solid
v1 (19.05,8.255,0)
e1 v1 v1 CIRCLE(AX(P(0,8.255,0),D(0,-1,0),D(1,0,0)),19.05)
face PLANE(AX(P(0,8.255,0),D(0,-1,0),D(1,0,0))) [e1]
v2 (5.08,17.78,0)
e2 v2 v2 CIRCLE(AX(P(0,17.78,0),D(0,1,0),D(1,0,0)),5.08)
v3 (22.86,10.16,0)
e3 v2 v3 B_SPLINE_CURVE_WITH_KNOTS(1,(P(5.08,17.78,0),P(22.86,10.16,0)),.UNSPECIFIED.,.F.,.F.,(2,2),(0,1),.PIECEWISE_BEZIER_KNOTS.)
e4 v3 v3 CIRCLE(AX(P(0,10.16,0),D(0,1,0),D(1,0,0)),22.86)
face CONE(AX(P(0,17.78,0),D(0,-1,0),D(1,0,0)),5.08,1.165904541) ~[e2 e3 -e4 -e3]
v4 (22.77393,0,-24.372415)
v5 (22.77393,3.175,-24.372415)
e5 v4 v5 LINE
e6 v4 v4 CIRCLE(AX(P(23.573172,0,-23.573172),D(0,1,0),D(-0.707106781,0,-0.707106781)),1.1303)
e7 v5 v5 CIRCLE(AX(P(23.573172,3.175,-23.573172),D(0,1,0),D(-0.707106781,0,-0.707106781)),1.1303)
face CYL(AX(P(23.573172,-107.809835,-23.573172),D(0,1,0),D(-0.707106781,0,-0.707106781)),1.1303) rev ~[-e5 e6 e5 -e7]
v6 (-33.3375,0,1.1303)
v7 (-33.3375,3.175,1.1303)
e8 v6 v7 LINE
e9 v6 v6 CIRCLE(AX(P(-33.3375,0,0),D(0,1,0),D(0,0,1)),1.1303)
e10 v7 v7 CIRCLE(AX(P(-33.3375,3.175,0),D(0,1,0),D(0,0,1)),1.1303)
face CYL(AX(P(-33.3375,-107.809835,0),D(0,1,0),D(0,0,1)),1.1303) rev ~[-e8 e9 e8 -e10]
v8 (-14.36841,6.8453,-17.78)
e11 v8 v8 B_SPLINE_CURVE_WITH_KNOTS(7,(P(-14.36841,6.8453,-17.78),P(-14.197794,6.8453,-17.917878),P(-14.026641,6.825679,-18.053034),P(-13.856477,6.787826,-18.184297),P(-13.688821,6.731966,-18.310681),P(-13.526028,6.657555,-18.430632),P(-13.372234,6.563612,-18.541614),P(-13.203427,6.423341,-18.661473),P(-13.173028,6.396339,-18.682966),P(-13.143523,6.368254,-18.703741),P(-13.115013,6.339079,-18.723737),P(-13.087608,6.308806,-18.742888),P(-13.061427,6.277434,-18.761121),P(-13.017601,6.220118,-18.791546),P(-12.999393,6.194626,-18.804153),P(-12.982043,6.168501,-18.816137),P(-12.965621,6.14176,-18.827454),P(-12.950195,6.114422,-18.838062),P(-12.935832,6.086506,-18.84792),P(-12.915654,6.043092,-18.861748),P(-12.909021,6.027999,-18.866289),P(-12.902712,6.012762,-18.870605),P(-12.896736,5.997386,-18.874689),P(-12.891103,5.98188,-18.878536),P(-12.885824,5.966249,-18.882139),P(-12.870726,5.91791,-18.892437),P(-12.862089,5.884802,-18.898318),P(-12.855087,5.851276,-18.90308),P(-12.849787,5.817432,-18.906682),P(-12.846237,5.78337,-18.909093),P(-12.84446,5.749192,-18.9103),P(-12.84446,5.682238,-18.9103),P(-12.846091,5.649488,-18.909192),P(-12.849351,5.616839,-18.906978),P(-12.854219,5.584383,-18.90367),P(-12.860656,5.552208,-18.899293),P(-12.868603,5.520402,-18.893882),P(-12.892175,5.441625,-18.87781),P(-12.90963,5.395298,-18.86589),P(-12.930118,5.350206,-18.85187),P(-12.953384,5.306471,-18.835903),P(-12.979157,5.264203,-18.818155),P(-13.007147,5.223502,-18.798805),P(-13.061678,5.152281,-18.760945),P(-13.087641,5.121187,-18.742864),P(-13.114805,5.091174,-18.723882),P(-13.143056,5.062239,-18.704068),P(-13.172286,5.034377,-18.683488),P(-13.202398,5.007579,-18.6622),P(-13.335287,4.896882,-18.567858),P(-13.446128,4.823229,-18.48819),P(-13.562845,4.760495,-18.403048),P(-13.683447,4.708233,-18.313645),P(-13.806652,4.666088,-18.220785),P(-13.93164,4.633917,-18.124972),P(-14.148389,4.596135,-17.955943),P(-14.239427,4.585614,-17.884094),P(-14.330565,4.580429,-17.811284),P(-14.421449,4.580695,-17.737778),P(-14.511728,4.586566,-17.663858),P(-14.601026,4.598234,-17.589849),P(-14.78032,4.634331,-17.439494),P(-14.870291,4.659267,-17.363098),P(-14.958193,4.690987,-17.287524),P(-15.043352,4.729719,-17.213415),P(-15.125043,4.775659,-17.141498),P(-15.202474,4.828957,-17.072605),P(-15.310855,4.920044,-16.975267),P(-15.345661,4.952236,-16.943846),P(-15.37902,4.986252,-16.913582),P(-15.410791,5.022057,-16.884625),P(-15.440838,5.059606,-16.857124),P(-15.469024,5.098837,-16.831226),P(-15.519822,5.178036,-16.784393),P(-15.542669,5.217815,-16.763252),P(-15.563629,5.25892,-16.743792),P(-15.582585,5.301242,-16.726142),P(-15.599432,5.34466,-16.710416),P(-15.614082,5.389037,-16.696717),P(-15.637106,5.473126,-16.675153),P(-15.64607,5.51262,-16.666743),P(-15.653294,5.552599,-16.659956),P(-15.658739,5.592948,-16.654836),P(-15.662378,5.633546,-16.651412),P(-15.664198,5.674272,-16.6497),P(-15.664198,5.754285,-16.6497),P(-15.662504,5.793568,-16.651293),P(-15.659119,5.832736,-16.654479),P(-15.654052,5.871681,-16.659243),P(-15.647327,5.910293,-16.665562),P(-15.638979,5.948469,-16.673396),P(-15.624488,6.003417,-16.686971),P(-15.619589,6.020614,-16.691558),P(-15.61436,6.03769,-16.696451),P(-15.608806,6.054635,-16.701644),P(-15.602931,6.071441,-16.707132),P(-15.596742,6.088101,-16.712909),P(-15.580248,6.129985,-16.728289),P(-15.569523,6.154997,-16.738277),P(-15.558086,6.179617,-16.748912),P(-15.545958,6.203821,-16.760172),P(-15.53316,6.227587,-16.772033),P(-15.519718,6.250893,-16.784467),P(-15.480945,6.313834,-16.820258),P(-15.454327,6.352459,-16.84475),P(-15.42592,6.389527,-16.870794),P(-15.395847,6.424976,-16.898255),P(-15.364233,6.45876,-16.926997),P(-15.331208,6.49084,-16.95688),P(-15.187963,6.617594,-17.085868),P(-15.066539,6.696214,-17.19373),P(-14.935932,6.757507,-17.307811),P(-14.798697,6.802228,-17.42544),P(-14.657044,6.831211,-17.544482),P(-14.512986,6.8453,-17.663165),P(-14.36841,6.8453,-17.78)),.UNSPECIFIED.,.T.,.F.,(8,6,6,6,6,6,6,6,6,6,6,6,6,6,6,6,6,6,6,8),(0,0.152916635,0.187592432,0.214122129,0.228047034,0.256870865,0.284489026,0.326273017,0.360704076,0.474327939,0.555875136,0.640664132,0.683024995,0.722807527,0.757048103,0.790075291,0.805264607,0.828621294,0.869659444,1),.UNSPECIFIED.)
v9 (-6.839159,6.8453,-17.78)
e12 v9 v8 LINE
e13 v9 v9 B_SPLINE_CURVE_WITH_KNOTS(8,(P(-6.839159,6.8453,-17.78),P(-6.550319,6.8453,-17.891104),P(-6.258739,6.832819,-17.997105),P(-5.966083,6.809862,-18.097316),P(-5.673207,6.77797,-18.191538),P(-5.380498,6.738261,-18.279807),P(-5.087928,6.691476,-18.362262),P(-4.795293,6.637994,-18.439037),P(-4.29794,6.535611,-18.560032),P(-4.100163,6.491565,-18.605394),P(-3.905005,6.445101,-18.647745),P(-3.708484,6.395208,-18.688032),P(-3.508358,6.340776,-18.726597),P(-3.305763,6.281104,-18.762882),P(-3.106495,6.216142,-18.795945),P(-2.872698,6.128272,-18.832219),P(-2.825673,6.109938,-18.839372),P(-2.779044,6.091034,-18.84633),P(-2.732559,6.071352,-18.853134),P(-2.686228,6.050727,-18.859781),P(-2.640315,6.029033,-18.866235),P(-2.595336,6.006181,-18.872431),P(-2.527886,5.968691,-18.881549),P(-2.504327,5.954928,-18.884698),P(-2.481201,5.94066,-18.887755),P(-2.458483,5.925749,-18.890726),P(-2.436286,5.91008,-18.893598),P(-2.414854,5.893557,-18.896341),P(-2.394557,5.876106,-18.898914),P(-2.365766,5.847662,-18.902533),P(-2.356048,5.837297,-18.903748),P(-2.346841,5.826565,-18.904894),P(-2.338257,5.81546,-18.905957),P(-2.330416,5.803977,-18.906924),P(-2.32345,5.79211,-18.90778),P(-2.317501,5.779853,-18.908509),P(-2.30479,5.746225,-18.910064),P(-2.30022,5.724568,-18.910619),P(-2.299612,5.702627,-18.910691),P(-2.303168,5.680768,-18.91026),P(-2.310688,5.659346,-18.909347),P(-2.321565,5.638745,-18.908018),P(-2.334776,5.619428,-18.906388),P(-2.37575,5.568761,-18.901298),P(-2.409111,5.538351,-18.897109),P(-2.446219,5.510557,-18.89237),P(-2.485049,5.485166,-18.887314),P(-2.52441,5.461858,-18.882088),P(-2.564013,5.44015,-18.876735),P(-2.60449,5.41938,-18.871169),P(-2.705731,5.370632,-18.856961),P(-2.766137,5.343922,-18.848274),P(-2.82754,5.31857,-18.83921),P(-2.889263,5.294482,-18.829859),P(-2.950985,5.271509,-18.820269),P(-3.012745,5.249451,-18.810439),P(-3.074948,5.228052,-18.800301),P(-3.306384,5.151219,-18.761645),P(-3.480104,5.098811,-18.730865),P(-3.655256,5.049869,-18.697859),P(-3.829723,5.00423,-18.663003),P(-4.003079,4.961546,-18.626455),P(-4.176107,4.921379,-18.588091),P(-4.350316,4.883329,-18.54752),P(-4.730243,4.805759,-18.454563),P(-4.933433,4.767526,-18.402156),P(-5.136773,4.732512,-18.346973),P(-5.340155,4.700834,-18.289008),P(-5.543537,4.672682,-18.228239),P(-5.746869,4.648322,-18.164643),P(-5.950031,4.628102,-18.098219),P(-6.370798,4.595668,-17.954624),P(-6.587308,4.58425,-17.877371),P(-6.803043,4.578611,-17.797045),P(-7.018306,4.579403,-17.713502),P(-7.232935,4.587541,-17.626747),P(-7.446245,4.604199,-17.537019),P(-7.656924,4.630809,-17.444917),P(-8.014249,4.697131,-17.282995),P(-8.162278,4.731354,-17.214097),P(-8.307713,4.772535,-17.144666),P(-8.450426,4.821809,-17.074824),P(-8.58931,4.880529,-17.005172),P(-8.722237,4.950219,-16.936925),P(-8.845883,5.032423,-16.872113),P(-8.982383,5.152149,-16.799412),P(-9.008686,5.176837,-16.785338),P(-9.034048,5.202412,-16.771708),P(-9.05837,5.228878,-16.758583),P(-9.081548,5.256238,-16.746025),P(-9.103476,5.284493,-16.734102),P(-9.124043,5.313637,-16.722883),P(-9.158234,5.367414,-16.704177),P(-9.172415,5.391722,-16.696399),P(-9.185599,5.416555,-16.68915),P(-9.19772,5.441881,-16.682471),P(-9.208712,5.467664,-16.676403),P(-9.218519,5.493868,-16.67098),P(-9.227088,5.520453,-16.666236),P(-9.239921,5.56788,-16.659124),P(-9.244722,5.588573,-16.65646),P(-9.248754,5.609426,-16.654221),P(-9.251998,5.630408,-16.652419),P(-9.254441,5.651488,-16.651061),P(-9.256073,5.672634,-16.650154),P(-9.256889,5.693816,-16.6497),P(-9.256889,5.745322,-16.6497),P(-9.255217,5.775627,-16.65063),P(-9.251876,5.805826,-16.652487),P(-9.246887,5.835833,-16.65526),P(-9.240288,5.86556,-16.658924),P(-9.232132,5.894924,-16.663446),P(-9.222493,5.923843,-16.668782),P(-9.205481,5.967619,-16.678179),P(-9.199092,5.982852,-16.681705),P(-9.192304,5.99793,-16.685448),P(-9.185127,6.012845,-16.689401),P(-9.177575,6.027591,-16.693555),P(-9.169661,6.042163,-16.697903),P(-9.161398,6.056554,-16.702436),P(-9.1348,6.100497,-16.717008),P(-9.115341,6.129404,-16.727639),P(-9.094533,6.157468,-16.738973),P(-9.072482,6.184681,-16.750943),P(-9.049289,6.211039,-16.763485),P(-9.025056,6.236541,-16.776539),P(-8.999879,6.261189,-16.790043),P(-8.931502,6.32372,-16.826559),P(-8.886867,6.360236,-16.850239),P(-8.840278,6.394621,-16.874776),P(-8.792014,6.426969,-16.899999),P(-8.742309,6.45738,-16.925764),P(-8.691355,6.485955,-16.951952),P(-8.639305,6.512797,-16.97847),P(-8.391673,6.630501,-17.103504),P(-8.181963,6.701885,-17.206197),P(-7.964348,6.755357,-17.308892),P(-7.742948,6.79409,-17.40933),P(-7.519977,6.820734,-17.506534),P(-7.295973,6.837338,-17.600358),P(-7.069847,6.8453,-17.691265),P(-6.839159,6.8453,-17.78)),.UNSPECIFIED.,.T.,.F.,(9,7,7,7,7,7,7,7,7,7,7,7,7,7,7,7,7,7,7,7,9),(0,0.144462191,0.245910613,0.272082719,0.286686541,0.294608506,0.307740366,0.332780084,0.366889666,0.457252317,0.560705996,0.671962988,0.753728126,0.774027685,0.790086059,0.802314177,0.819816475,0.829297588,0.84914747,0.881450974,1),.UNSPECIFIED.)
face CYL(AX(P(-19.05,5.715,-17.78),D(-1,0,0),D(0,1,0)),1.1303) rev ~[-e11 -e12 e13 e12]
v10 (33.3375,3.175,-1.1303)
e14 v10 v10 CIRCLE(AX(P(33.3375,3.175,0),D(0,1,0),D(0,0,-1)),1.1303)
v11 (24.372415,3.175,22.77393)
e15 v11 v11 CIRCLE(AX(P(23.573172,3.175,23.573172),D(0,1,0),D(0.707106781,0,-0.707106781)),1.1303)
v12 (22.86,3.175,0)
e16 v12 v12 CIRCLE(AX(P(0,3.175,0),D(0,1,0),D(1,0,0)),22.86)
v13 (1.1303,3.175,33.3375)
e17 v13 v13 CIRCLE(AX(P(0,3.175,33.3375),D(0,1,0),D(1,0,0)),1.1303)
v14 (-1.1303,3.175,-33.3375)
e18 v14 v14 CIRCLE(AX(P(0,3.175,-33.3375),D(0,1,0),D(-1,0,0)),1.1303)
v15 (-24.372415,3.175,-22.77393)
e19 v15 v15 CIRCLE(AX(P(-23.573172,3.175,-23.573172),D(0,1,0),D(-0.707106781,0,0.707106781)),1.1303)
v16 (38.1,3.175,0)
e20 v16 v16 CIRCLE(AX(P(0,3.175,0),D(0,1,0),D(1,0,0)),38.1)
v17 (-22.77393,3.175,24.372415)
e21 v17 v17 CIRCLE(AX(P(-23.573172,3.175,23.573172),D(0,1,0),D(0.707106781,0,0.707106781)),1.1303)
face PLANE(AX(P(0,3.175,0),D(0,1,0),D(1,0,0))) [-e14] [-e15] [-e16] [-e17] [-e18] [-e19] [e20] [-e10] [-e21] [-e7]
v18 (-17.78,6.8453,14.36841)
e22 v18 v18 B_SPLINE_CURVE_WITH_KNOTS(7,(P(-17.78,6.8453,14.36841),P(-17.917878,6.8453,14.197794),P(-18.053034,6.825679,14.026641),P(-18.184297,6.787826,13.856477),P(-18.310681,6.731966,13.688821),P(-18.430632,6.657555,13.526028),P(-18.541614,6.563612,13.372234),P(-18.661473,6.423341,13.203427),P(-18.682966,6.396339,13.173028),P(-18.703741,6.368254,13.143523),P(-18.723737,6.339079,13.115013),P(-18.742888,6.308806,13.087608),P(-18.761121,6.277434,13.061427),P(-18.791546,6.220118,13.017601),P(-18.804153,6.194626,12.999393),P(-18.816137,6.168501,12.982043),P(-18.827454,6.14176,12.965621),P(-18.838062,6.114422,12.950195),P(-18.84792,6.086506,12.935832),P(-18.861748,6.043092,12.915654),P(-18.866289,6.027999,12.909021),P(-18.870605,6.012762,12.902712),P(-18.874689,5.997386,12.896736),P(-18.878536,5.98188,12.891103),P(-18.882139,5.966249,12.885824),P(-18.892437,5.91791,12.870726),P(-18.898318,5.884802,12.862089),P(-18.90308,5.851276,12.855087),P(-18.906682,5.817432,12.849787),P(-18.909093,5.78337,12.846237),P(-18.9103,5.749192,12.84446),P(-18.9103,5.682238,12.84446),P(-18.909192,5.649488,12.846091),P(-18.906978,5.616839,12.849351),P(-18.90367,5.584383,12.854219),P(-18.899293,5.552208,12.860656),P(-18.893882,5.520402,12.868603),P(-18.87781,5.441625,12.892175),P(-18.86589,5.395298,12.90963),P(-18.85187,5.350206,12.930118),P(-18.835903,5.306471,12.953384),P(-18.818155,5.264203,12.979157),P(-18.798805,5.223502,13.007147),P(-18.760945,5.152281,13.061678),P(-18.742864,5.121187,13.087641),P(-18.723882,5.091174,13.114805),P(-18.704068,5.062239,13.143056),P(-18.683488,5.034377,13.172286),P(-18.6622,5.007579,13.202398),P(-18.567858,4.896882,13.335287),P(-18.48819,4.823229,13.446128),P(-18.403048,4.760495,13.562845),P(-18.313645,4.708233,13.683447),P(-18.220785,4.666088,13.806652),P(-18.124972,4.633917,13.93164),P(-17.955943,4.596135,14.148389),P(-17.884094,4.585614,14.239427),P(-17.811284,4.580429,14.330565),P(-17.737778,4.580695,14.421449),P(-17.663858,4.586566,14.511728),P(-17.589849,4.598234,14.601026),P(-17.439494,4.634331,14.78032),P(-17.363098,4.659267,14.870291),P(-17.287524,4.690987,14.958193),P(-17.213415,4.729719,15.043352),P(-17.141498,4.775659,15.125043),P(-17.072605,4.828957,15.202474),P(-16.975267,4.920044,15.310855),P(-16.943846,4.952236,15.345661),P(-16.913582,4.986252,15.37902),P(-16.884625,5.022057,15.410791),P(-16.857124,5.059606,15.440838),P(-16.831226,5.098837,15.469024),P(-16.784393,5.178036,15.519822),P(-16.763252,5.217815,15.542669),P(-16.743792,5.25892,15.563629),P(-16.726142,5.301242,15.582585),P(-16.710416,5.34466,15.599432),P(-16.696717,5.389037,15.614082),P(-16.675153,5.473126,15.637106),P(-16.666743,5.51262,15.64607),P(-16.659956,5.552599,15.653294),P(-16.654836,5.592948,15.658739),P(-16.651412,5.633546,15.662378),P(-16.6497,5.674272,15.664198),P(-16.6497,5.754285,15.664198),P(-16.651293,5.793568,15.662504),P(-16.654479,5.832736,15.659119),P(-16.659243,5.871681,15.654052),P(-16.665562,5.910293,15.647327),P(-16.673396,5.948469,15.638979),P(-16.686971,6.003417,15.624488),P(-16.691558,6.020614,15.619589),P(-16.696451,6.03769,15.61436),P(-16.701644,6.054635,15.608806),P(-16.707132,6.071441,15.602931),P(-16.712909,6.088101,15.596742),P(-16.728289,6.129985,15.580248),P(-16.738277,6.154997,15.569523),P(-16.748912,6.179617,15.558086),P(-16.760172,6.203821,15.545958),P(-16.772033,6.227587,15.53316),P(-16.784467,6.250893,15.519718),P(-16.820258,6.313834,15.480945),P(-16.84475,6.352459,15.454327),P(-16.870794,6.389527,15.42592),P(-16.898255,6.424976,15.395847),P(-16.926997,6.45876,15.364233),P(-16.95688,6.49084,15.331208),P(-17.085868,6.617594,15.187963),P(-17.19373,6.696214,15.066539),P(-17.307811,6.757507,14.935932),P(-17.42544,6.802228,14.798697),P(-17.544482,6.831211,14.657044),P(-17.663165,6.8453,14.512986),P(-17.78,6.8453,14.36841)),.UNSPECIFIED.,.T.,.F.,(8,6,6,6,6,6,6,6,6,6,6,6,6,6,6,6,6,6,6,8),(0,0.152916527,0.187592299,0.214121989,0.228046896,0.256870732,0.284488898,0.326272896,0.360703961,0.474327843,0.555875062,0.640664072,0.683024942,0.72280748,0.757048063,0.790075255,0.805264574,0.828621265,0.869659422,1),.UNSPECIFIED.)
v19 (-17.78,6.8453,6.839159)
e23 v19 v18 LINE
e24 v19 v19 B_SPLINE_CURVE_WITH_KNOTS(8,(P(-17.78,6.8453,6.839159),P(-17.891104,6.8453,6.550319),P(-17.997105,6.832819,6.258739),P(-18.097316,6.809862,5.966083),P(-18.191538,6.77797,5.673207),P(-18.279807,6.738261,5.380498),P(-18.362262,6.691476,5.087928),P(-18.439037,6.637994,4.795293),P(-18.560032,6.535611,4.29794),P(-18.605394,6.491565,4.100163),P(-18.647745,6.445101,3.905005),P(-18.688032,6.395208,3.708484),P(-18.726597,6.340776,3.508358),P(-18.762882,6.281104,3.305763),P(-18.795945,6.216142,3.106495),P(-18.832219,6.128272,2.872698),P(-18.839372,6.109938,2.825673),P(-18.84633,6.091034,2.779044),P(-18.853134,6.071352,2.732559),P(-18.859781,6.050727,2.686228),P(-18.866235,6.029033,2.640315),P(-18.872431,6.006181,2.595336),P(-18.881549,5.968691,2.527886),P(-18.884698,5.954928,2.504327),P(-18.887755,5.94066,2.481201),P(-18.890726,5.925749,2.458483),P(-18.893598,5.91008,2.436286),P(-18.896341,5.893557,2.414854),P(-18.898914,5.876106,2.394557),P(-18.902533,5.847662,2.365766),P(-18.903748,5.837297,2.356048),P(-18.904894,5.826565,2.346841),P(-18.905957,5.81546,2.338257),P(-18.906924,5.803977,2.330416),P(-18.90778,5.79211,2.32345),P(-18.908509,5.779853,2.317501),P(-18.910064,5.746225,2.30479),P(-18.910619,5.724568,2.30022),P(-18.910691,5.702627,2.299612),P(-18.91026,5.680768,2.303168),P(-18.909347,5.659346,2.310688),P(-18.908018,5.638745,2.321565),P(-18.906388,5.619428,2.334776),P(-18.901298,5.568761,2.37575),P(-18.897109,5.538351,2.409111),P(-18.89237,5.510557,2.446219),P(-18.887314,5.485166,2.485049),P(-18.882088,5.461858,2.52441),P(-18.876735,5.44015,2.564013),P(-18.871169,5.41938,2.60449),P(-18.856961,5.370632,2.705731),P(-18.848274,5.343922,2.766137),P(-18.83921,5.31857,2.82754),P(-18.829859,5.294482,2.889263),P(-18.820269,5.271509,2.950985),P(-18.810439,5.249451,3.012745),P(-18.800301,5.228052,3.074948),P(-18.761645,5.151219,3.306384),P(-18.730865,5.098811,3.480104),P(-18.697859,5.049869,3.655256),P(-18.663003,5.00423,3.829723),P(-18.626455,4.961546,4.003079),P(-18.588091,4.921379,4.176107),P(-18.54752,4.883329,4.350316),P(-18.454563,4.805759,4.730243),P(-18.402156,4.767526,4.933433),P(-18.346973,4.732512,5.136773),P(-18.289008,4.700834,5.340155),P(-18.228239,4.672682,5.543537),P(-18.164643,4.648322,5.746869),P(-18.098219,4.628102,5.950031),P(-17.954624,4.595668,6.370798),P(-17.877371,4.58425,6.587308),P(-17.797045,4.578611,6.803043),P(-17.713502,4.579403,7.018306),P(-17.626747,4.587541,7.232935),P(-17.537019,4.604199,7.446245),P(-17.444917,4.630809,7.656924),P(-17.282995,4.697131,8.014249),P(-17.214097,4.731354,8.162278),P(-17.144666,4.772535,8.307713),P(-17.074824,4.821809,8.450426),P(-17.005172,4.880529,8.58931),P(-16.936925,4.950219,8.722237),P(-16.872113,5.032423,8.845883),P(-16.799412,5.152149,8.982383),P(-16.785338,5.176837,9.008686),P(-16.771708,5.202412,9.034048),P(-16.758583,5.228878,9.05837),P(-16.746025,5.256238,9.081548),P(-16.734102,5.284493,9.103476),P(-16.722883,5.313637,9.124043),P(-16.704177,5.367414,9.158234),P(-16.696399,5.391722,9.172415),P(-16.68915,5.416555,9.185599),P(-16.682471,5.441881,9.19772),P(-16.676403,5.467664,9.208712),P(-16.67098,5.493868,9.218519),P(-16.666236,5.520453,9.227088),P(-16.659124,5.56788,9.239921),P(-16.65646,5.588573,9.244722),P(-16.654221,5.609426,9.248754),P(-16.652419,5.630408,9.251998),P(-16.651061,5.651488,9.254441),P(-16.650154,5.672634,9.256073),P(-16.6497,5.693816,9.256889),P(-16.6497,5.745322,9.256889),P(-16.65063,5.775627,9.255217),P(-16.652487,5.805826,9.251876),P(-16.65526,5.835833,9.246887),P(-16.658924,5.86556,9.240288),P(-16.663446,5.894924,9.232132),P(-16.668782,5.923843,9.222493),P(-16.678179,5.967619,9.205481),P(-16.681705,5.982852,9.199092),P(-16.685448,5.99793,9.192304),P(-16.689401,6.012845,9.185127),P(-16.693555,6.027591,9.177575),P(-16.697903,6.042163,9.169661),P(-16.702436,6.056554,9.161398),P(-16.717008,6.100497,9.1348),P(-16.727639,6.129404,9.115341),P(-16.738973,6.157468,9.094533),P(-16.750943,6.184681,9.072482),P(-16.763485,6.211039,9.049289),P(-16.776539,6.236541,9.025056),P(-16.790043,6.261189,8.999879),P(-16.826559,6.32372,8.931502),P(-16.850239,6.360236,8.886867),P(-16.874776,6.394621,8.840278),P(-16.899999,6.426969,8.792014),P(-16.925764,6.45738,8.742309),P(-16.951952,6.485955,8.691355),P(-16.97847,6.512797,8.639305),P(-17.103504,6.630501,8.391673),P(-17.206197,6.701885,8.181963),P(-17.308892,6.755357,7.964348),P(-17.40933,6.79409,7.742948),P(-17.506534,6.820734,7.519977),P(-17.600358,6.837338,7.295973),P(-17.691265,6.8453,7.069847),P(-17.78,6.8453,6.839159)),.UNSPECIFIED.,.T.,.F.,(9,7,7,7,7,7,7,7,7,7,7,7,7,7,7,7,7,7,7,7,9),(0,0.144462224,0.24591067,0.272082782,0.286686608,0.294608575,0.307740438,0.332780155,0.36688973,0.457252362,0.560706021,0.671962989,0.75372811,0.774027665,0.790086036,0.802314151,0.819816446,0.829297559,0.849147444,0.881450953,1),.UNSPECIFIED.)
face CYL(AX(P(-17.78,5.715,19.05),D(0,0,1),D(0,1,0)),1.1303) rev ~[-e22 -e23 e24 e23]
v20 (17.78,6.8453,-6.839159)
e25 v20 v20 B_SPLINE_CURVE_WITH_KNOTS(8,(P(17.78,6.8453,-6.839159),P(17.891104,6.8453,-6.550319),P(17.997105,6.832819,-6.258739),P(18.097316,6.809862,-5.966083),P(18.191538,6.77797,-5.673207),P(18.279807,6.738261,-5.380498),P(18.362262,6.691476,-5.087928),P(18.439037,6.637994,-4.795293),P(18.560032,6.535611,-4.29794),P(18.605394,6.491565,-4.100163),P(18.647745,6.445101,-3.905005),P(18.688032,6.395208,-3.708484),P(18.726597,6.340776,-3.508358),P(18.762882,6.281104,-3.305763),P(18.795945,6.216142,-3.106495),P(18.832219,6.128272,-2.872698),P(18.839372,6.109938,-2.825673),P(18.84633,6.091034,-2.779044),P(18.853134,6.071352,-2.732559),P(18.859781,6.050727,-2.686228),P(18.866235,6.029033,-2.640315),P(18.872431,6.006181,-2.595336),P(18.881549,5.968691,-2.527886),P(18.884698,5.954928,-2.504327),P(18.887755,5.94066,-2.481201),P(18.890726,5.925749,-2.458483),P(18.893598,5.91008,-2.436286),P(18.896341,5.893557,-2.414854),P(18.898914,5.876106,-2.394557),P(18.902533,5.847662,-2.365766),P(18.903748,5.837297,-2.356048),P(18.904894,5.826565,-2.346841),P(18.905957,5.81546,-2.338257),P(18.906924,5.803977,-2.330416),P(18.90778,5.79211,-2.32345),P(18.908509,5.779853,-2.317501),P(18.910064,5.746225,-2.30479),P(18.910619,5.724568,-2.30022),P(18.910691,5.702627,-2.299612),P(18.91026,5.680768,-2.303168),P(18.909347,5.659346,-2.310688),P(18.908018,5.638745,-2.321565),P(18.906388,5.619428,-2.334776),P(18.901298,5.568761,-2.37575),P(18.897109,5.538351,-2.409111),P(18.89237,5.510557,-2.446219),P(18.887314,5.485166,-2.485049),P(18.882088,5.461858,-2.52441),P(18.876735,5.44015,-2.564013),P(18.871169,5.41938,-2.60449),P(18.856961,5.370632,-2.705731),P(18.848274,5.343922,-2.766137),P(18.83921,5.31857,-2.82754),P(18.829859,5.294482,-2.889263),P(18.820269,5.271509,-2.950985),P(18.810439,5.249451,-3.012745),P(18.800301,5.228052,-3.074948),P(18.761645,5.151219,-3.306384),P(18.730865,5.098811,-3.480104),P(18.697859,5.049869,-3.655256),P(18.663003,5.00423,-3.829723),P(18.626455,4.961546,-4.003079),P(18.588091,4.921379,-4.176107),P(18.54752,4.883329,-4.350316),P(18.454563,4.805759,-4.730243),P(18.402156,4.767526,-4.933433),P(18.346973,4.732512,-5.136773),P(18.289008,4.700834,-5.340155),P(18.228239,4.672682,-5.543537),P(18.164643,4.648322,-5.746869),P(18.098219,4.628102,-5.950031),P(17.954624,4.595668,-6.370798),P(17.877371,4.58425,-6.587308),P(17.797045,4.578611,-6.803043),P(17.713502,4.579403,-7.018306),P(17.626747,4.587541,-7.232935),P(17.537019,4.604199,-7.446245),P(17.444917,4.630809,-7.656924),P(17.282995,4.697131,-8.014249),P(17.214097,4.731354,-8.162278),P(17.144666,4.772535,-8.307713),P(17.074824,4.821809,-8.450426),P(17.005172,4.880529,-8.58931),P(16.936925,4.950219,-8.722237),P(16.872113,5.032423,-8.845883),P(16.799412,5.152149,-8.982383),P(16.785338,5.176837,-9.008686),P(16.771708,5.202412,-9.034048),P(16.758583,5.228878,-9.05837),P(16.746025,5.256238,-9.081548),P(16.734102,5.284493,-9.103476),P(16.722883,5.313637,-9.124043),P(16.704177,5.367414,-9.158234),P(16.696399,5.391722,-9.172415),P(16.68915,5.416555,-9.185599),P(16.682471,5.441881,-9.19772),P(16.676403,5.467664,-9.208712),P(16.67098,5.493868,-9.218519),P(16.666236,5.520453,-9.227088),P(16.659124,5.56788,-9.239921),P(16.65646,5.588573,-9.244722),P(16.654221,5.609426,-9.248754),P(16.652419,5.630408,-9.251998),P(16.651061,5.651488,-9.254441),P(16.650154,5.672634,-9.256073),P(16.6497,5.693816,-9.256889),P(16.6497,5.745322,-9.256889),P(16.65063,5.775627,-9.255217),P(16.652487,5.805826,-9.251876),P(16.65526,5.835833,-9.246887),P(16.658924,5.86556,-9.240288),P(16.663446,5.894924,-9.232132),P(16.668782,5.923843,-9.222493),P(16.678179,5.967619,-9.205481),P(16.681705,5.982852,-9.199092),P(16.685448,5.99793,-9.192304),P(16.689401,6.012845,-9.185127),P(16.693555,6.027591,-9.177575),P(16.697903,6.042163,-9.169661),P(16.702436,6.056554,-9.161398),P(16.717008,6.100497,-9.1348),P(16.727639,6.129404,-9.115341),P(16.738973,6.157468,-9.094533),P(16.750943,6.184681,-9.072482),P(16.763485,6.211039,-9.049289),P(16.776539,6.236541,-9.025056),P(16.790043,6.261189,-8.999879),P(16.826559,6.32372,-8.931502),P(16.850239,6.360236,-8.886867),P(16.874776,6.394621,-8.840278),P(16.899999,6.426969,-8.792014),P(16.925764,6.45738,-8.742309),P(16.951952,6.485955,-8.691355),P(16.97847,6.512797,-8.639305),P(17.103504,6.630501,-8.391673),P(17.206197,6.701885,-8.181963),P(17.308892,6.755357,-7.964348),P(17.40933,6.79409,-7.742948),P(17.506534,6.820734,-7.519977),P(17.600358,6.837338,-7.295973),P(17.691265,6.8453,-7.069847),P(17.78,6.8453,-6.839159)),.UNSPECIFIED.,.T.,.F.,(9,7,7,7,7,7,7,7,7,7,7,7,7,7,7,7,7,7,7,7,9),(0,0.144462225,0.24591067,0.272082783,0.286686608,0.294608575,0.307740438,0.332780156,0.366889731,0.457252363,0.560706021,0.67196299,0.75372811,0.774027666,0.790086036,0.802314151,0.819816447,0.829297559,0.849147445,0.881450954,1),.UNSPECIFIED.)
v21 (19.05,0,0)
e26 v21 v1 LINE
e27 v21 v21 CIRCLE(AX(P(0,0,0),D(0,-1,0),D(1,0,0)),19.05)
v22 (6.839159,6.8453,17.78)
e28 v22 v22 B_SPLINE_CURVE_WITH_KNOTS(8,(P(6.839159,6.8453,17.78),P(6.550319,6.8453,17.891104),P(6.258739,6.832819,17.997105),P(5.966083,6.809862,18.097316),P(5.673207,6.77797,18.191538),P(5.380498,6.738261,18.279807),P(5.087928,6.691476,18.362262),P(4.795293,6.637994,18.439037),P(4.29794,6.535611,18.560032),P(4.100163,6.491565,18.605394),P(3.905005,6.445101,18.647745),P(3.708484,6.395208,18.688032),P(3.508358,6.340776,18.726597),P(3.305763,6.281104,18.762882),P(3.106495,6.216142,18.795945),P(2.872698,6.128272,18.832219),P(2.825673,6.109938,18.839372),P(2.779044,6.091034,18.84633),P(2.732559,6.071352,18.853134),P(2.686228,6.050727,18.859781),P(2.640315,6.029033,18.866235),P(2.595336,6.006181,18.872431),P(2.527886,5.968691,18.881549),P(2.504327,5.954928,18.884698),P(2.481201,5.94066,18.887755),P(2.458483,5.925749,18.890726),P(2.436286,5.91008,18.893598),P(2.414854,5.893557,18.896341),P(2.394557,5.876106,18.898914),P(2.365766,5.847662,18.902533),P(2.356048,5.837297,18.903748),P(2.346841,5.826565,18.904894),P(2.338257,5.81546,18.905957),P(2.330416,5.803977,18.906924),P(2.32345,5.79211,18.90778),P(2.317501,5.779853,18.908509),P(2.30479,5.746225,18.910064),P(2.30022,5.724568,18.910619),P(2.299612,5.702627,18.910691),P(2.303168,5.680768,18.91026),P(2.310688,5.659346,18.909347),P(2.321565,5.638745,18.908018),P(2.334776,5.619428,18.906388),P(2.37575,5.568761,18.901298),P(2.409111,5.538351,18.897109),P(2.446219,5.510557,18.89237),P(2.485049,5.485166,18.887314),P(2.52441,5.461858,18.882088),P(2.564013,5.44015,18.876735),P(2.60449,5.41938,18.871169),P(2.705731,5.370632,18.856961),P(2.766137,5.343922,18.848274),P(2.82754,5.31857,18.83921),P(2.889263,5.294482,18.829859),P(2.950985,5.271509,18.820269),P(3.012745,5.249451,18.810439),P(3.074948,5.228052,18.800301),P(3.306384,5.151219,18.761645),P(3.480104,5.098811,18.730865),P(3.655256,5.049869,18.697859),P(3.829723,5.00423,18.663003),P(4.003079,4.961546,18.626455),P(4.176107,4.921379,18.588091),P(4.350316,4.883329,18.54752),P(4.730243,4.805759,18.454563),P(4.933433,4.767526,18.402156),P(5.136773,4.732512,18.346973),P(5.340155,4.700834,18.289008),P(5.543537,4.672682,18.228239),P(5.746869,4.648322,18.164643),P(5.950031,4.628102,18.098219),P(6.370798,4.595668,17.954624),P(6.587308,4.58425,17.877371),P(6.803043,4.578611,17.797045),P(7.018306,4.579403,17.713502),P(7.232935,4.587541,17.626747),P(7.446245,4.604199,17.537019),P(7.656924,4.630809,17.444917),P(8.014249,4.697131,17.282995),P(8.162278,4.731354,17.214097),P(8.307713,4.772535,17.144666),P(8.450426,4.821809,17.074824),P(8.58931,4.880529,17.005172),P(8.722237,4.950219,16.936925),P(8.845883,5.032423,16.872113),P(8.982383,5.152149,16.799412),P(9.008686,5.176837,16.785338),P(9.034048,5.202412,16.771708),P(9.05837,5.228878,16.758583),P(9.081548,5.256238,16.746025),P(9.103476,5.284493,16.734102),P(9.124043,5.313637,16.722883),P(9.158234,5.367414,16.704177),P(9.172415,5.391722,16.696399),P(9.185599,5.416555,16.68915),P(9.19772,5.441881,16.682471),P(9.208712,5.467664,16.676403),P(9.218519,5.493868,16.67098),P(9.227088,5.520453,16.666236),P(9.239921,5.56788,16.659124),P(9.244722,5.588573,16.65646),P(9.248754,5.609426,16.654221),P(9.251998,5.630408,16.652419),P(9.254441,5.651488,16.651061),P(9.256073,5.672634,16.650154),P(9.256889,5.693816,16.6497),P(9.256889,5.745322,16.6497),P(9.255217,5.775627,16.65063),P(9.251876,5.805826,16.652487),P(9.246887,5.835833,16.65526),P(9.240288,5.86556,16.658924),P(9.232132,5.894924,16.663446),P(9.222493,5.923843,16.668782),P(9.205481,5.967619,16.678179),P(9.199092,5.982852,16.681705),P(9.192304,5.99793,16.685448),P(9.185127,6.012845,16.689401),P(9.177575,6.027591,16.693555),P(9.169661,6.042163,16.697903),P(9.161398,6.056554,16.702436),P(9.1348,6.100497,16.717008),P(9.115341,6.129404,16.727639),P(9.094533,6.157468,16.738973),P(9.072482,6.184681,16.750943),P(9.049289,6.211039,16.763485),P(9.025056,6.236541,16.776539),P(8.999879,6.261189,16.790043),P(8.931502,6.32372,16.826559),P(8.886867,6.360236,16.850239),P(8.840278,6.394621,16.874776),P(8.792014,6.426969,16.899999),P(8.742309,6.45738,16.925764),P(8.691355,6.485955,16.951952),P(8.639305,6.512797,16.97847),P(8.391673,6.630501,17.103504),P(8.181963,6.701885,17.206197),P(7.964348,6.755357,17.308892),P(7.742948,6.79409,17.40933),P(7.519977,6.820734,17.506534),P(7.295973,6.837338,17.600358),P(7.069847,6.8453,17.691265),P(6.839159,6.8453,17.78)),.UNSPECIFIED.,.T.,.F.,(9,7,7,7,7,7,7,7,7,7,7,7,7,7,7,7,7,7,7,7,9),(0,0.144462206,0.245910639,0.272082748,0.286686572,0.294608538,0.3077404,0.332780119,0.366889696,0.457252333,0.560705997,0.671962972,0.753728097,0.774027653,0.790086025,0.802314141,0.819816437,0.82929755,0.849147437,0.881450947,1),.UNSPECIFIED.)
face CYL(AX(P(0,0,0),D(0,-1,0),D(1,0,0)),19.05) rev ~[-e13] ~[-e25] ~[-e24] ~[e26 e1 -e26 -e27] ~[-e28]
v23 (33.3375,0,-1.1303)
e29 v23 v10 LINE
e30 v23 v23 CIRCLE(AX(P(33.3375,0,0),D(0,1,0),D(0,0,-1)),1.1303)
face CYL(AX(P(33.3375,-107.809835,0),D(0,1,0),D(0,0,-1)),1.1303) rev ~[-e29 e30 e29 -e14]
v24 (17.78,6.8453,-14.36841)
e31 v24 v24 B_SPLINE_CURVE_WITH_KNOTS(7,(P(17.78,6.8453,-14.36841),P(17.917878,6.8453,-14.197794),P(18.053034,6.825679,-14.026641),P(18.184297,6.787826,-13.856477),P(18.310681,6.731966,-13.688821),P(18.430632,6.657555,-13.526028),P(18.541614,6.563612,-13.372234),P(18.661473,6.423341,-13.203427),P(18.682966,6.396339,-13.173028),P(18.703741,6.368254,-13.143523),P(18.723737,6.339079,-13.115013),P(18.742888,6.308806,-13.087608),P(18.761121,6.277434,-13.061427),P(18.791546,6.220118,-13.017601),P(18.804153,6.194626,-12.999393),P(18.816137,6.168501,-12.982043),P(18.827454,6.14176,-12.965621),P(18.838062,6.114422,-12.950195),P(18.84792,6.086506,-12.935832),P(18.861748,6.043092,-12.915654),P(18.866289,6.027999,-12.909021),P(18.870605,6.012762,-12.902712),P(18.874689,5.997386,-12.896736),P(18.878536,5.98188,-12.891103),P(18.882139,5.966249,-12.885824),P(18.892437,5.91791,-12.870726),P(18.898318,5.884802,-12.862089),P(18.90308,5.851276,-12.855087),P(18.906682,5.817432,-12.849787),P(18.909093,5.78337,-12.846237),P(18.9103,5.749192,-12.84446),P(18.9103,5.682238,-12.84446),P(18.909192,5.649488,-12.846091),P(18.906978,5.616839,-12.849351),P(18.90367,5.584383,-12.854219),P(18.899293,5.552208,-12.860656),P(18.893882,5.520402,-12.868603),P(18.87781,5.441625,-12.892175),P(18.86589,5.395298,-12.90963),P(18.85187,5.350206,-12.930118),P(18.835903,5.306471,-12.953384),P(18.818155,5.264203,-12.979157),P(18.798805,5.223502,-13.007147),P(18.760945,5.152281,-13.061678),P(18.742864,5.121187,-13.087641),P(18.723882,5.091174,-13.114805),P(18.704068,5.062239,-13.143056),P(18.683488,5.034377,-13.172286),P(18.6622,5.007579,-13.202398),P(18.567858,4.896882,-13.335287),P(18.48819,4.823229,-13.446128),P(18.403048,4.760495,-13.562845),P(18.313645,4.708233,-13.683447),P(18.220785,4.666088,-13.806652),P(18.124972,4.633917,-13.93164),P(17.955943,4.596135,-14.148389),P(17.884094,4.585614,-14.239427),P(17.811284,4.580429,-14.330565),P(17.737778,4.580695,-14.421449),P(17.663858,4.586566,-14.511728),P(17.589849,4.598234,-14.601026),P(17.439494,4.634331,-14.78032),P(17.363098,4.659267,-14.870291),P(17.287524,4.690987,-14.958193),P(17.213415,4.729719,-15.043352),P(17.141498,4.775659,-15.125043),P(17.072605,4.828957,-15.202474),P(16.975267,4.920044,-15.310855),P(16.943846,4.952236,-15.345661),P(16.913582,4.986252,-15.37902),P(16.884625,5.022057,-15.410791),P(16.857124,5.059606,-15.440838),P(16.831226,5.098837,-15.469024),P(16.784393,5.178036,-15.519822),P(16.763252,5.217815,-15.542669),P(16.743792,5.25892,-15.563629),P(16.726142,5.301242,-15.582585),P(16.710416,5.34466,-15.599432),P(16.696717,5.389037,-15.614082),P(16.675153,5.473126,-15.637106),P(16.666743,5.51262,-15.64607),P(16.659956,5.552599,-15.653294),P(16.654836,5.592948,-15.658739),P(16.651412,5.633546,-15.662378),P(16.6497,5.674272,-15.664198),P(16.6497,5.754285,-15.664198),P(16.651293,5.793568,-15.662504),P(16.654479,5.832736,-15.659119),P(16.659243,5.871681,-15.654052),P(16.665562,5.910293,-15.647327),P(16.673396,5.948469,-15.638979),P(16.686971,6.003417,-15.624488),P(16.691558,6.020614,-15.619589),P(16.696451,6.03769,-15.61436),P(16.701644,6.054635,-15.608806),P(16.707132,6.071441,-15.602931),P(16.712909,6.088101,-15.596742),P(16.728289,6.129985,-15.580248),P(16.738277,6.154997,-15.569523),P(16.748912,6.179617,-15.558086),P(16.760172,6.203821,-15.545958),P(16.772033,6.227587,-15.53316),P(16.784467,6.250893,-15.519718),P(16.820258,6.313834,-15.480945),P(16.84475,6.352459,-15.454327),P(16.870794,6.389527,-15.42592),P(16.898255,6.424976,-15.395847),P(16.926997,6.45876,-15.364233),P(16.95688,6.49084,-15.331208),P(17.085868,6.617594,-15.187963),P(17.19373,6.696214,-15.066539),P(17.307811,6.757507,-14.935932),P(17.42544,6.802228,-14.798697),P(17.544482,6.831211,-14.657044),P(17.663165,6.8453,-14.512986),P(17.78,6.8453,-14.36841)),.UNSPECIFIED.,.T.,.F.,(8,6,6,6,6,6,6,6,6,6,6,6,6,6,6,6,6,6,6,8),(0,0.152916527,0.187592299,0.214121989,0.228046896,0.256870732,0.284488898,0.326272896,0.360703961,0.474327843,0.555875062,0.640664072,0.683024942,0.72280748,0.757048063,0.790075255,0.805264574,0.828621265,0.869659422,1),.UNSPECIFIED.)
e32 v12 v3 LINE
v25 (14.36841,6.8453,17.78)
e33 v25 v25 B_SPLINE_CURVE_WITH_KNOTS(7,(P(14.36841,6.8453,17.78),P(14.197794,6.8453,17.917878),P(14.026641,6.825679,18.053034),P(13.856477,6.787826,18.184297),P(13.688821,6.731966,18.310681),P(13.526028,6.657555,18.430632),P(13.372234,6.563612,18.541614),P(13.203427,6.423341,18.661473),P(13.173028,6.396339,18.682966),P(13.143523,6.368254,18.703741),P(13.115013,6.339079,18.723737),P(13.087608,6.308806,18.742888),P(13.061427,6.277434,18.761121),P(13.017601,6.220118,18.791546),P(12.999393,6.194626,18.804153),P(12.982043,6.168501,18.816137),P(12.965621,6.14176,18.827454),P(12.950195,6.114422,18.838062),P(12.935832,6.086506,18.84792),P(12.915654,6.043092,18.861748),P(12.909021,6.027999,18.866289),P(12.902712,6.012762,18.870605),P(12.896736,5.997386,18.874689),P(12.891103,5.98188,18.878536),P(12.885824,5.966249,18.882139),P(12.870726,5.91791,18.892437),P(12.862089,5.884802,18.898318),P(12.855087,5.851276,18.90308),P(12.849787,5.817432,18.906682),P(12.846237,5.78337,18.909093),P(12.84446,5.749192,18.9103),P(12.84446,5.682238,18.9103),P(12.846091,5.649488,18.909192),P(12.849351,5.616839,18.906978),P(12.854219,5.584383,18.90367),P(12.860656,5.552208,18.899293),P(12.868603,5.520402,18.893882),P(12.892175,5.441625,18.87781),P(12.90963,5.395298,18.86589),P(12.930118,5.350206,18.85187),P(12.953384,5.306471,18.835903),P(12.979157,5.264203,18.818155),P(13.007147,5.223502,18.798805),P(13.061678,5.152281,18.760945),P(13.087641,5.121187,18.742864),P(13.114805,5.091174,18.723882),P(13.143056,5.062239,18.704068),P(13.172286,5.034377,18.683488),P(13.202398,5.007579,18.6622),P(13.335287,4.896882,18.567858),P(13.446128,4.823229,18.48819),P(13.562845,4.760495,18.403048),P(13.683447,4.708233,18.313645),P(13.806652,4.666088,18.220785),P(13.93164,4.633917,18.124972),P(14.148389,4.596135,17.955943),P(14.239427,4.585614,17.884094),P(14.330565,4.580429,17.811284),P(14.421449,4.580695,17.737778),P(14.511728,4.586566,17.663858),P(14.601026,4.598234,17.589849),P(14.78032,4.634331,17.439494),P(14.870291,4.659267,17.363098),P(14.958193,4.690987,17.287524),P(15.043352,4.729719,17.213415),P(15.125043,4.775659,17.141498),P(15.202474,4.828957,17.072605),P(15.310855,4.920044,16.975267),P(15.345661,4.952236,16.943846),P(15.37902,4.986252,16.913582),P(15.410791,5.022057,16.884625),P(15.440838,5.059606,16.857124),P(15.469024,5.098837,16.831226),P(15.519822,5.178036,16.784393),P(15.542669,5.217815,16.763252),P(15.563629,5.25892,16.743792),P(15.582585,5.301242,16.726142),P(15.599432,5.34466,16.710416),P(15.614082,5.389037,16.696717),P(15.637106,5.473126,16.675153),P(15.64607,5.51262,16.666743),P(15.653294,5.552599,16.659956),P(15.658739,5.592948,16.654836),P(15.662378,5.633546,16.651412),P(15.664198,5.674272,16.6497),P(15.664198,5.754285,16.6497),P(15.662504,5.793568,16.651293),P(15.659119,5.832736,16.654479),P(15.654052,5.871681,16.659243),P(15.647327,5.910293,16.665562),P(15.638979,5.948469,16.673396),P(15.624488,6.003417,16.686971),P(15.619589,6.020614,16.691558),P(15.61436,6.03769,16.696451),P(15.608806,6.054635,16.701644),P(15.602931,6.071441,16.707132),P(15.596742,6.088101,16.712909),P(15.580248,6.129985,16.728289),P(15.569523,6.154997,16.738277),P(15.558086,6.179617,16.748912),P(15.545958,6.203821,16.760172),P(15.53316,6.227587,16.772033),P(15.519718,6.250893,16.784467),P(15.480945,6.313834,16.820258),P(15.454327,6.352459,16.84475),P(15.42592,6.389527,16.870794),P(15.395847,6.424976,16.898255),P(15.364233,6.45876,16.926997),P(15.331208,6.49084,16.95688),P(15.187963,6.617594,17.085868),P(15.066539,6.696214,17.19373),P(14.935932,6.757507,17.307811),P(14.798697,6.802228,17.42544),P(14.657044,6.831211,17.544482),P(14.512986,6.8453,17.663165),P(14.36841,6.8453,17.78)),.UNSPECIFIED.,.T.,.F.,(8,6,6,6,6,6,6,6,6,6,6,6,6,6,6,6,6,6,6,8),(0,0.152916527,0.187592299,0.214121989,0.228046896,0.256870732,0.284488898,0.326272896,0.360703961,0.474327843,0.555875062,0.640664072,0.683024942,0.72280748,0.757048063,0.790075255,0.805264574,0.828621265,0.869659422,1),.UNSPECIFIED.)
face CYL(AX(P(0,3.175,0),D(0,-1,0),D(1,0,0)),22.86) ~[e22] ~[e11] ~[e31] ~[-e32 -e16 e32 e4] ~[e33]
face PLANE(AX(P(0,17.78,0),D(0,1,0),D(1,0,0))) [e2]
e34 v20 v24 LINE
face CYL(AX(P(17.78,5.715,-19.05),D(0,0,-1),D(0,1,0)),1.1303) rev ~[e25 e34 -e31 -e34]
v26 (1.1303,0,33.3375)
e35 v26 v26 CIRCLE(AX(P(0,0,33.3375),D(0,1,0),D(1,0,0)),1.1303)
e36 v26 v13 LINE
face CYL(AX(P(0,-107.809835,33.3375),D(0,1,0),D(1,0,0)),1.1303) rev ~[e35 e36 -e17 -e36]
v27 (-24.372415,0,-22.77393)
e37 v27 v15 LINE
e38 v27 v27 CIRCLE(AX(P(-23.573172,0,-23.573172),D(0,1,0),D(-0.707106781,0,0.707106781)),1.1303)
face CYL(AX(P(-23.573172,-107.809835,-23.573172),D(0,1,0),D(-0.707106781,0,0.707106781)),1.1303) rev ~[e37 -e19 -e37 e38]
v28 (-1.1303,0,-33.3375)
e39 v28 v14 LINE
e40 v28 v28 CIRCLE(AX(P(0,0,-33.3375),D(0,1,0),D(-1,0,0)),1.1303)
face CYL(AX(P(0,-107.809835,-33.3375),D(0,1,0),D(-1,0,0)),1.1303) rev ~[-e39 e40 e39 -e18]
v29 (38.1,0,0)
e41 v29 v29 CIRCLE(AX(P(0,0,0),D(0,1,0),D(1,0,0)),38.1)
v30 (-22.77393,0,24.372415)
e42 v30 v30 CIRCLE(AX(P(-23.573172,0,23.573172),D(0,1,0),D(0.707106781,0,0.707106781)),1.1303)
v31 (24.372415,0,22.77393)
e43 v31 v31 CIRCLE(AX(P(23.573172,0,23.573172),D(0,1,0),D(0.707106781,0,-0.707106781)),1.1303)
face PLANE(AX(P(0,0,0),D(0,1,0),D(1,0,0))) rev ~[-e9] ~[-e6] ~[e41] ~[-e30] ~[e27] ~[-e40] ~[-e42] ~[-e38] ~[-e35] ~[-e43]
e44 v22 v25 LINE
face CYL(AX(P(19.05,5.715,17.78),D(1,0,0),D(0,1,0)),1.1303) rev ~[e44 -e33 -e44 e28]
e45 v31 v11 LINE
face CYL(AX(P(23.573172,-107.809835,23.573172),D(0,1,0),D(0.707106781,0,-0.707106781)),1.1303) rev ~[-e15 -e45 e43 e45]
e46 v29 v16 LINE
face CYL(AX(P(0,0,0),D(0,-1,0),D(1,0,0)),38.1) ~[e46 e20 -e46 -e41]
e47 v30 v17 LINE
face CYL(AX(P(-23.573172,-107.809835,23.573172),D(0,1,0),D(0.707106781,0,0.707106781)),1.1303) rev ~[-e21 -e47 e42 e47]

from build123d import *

# Parameters (mm, degrees)
SKETCH2_R                 = 38.1
BOSS_EXTRUDE1_DEPTH       = 3.175
TAP_DRILL_FOR_4_40_TAP1_D = 2.2606
CIRPATTERN1_COUNT         = 8
SKETCH7_R                 = 22.86
BOSS_EXTRUDE2_DEPTH       = 6.985
SKETCH8_R                 = 19.05
CUT_EXTRUDE1_DEPTH        = 8.255
SKETCH12_W                = 1.1303
SKETCH12_H                = 38.1
CIRPATTERN2_COUNT         = 4
SKETCH14_R                = 5.08
SKETCH13_R                = 22.86


with BuildPart() as part:
    # Sketch2 → Boss-Extrude1 (new body)
    with BuildSketch(Plane(origin=(0, 0, 0), x_dir=(1, 0, 0), z_dir=(0, 1, 0))):
        Circle(SKETCH2_R)
    extrude(amount=BOSS_EXTRUDE1_DEPTH)

    # Tap Drill for #4-40 Tap1 (through all)
    with Locations(Plane(origin=(0, 0, 0), x_dir=(-1, 0, 0), z_dir=(0, -1, 0))):
        with Locations((0, -33.3375)):
            tap_drill_for_4_40_tap1 = Hole(TAP_DRILL_FOR_4_40_TAP1_D / 2)

    # CirPattern1: Tap Drill for #4-40 Tap1 ×8 about axis
    cirpattern1_axis = Axis((0, 0, 0), (0, 1, 0))
    for i in range(1, CIRPATTERN1_COUNT):
        add(tap_drill_for_4_40_tap1.rotate(cirpattern1_axis, i * 360 / CIRPATTERN1_COUNT), mode=Mode.SUBTRACT)

    # Sketch7 → Boss-Extrude2 (add)
    with BuildSketch(Plane(origin=(0, 3.175, 0), x_dir=(1, 0, 0), z_dir=(0, 1, 0))):
        Circle(SKETCH7_R)
    extrude(amount=BOSS_EXTRUDE2_DEPTH)

    # Sketch8 → Cut-Extrude1 (cut)
    with BuildSketch(Plane.XZ):
        Circle(SKETCH8_R)
    extrude(amount=-CUT_EXTRUDE1_DEPTH, mode=Mode.SUBTRACT)

    # Sketch12 → Tap Drill for #4-40 Tap2 (revolve, cut)
    with BuildSketch(Plane(origin=(-17.78, 5.715, 0), x_dir=(0, 1, 0), z_dir=(1, 0, 0))):
        with Locations((0.56515, 19.05)):
            Rectangle(SKETCH12_W, SKETCH12_H)
    tap_drill_for_4_40_tap2 = revolve(axis=Axis((-17.78, 5.715, -6.35), (0, 0, 1)), mode=Mode.SUBTRACT)

    # CirPattern2: Tap Drill for #4-40 Tap2 ×4 about axis
    cirpattern2_axis = Axis((0, 10.16, 0), (0, 1, 0))
    for i in range(1, CIRPATTERN2_COUNT):
        add(tap_drill_for_4_40_tap2.rotate(cirpattern2_axis, i * 360 / CIRPATTERN2_COUNT), mode=Mode.SUBTRACT)

    # Sketch14 → Loft2 section 0
    with BuildSketch(Plane(origin=(0, 17.78, 0), x_dir=(1, 0, 0), z_dir=(0, 1, 0))):
        Circle(SKETCH14_R)
    # Sketch13 → Loft2 section 1
    with BuildSketch(Plane(origin=(0, 10.16, 0), x_dir=(1, 0, 0), z_dir=(0, 1, 0))):
        Circle(SKETCH13_R)
    loft()


solid = part.part
